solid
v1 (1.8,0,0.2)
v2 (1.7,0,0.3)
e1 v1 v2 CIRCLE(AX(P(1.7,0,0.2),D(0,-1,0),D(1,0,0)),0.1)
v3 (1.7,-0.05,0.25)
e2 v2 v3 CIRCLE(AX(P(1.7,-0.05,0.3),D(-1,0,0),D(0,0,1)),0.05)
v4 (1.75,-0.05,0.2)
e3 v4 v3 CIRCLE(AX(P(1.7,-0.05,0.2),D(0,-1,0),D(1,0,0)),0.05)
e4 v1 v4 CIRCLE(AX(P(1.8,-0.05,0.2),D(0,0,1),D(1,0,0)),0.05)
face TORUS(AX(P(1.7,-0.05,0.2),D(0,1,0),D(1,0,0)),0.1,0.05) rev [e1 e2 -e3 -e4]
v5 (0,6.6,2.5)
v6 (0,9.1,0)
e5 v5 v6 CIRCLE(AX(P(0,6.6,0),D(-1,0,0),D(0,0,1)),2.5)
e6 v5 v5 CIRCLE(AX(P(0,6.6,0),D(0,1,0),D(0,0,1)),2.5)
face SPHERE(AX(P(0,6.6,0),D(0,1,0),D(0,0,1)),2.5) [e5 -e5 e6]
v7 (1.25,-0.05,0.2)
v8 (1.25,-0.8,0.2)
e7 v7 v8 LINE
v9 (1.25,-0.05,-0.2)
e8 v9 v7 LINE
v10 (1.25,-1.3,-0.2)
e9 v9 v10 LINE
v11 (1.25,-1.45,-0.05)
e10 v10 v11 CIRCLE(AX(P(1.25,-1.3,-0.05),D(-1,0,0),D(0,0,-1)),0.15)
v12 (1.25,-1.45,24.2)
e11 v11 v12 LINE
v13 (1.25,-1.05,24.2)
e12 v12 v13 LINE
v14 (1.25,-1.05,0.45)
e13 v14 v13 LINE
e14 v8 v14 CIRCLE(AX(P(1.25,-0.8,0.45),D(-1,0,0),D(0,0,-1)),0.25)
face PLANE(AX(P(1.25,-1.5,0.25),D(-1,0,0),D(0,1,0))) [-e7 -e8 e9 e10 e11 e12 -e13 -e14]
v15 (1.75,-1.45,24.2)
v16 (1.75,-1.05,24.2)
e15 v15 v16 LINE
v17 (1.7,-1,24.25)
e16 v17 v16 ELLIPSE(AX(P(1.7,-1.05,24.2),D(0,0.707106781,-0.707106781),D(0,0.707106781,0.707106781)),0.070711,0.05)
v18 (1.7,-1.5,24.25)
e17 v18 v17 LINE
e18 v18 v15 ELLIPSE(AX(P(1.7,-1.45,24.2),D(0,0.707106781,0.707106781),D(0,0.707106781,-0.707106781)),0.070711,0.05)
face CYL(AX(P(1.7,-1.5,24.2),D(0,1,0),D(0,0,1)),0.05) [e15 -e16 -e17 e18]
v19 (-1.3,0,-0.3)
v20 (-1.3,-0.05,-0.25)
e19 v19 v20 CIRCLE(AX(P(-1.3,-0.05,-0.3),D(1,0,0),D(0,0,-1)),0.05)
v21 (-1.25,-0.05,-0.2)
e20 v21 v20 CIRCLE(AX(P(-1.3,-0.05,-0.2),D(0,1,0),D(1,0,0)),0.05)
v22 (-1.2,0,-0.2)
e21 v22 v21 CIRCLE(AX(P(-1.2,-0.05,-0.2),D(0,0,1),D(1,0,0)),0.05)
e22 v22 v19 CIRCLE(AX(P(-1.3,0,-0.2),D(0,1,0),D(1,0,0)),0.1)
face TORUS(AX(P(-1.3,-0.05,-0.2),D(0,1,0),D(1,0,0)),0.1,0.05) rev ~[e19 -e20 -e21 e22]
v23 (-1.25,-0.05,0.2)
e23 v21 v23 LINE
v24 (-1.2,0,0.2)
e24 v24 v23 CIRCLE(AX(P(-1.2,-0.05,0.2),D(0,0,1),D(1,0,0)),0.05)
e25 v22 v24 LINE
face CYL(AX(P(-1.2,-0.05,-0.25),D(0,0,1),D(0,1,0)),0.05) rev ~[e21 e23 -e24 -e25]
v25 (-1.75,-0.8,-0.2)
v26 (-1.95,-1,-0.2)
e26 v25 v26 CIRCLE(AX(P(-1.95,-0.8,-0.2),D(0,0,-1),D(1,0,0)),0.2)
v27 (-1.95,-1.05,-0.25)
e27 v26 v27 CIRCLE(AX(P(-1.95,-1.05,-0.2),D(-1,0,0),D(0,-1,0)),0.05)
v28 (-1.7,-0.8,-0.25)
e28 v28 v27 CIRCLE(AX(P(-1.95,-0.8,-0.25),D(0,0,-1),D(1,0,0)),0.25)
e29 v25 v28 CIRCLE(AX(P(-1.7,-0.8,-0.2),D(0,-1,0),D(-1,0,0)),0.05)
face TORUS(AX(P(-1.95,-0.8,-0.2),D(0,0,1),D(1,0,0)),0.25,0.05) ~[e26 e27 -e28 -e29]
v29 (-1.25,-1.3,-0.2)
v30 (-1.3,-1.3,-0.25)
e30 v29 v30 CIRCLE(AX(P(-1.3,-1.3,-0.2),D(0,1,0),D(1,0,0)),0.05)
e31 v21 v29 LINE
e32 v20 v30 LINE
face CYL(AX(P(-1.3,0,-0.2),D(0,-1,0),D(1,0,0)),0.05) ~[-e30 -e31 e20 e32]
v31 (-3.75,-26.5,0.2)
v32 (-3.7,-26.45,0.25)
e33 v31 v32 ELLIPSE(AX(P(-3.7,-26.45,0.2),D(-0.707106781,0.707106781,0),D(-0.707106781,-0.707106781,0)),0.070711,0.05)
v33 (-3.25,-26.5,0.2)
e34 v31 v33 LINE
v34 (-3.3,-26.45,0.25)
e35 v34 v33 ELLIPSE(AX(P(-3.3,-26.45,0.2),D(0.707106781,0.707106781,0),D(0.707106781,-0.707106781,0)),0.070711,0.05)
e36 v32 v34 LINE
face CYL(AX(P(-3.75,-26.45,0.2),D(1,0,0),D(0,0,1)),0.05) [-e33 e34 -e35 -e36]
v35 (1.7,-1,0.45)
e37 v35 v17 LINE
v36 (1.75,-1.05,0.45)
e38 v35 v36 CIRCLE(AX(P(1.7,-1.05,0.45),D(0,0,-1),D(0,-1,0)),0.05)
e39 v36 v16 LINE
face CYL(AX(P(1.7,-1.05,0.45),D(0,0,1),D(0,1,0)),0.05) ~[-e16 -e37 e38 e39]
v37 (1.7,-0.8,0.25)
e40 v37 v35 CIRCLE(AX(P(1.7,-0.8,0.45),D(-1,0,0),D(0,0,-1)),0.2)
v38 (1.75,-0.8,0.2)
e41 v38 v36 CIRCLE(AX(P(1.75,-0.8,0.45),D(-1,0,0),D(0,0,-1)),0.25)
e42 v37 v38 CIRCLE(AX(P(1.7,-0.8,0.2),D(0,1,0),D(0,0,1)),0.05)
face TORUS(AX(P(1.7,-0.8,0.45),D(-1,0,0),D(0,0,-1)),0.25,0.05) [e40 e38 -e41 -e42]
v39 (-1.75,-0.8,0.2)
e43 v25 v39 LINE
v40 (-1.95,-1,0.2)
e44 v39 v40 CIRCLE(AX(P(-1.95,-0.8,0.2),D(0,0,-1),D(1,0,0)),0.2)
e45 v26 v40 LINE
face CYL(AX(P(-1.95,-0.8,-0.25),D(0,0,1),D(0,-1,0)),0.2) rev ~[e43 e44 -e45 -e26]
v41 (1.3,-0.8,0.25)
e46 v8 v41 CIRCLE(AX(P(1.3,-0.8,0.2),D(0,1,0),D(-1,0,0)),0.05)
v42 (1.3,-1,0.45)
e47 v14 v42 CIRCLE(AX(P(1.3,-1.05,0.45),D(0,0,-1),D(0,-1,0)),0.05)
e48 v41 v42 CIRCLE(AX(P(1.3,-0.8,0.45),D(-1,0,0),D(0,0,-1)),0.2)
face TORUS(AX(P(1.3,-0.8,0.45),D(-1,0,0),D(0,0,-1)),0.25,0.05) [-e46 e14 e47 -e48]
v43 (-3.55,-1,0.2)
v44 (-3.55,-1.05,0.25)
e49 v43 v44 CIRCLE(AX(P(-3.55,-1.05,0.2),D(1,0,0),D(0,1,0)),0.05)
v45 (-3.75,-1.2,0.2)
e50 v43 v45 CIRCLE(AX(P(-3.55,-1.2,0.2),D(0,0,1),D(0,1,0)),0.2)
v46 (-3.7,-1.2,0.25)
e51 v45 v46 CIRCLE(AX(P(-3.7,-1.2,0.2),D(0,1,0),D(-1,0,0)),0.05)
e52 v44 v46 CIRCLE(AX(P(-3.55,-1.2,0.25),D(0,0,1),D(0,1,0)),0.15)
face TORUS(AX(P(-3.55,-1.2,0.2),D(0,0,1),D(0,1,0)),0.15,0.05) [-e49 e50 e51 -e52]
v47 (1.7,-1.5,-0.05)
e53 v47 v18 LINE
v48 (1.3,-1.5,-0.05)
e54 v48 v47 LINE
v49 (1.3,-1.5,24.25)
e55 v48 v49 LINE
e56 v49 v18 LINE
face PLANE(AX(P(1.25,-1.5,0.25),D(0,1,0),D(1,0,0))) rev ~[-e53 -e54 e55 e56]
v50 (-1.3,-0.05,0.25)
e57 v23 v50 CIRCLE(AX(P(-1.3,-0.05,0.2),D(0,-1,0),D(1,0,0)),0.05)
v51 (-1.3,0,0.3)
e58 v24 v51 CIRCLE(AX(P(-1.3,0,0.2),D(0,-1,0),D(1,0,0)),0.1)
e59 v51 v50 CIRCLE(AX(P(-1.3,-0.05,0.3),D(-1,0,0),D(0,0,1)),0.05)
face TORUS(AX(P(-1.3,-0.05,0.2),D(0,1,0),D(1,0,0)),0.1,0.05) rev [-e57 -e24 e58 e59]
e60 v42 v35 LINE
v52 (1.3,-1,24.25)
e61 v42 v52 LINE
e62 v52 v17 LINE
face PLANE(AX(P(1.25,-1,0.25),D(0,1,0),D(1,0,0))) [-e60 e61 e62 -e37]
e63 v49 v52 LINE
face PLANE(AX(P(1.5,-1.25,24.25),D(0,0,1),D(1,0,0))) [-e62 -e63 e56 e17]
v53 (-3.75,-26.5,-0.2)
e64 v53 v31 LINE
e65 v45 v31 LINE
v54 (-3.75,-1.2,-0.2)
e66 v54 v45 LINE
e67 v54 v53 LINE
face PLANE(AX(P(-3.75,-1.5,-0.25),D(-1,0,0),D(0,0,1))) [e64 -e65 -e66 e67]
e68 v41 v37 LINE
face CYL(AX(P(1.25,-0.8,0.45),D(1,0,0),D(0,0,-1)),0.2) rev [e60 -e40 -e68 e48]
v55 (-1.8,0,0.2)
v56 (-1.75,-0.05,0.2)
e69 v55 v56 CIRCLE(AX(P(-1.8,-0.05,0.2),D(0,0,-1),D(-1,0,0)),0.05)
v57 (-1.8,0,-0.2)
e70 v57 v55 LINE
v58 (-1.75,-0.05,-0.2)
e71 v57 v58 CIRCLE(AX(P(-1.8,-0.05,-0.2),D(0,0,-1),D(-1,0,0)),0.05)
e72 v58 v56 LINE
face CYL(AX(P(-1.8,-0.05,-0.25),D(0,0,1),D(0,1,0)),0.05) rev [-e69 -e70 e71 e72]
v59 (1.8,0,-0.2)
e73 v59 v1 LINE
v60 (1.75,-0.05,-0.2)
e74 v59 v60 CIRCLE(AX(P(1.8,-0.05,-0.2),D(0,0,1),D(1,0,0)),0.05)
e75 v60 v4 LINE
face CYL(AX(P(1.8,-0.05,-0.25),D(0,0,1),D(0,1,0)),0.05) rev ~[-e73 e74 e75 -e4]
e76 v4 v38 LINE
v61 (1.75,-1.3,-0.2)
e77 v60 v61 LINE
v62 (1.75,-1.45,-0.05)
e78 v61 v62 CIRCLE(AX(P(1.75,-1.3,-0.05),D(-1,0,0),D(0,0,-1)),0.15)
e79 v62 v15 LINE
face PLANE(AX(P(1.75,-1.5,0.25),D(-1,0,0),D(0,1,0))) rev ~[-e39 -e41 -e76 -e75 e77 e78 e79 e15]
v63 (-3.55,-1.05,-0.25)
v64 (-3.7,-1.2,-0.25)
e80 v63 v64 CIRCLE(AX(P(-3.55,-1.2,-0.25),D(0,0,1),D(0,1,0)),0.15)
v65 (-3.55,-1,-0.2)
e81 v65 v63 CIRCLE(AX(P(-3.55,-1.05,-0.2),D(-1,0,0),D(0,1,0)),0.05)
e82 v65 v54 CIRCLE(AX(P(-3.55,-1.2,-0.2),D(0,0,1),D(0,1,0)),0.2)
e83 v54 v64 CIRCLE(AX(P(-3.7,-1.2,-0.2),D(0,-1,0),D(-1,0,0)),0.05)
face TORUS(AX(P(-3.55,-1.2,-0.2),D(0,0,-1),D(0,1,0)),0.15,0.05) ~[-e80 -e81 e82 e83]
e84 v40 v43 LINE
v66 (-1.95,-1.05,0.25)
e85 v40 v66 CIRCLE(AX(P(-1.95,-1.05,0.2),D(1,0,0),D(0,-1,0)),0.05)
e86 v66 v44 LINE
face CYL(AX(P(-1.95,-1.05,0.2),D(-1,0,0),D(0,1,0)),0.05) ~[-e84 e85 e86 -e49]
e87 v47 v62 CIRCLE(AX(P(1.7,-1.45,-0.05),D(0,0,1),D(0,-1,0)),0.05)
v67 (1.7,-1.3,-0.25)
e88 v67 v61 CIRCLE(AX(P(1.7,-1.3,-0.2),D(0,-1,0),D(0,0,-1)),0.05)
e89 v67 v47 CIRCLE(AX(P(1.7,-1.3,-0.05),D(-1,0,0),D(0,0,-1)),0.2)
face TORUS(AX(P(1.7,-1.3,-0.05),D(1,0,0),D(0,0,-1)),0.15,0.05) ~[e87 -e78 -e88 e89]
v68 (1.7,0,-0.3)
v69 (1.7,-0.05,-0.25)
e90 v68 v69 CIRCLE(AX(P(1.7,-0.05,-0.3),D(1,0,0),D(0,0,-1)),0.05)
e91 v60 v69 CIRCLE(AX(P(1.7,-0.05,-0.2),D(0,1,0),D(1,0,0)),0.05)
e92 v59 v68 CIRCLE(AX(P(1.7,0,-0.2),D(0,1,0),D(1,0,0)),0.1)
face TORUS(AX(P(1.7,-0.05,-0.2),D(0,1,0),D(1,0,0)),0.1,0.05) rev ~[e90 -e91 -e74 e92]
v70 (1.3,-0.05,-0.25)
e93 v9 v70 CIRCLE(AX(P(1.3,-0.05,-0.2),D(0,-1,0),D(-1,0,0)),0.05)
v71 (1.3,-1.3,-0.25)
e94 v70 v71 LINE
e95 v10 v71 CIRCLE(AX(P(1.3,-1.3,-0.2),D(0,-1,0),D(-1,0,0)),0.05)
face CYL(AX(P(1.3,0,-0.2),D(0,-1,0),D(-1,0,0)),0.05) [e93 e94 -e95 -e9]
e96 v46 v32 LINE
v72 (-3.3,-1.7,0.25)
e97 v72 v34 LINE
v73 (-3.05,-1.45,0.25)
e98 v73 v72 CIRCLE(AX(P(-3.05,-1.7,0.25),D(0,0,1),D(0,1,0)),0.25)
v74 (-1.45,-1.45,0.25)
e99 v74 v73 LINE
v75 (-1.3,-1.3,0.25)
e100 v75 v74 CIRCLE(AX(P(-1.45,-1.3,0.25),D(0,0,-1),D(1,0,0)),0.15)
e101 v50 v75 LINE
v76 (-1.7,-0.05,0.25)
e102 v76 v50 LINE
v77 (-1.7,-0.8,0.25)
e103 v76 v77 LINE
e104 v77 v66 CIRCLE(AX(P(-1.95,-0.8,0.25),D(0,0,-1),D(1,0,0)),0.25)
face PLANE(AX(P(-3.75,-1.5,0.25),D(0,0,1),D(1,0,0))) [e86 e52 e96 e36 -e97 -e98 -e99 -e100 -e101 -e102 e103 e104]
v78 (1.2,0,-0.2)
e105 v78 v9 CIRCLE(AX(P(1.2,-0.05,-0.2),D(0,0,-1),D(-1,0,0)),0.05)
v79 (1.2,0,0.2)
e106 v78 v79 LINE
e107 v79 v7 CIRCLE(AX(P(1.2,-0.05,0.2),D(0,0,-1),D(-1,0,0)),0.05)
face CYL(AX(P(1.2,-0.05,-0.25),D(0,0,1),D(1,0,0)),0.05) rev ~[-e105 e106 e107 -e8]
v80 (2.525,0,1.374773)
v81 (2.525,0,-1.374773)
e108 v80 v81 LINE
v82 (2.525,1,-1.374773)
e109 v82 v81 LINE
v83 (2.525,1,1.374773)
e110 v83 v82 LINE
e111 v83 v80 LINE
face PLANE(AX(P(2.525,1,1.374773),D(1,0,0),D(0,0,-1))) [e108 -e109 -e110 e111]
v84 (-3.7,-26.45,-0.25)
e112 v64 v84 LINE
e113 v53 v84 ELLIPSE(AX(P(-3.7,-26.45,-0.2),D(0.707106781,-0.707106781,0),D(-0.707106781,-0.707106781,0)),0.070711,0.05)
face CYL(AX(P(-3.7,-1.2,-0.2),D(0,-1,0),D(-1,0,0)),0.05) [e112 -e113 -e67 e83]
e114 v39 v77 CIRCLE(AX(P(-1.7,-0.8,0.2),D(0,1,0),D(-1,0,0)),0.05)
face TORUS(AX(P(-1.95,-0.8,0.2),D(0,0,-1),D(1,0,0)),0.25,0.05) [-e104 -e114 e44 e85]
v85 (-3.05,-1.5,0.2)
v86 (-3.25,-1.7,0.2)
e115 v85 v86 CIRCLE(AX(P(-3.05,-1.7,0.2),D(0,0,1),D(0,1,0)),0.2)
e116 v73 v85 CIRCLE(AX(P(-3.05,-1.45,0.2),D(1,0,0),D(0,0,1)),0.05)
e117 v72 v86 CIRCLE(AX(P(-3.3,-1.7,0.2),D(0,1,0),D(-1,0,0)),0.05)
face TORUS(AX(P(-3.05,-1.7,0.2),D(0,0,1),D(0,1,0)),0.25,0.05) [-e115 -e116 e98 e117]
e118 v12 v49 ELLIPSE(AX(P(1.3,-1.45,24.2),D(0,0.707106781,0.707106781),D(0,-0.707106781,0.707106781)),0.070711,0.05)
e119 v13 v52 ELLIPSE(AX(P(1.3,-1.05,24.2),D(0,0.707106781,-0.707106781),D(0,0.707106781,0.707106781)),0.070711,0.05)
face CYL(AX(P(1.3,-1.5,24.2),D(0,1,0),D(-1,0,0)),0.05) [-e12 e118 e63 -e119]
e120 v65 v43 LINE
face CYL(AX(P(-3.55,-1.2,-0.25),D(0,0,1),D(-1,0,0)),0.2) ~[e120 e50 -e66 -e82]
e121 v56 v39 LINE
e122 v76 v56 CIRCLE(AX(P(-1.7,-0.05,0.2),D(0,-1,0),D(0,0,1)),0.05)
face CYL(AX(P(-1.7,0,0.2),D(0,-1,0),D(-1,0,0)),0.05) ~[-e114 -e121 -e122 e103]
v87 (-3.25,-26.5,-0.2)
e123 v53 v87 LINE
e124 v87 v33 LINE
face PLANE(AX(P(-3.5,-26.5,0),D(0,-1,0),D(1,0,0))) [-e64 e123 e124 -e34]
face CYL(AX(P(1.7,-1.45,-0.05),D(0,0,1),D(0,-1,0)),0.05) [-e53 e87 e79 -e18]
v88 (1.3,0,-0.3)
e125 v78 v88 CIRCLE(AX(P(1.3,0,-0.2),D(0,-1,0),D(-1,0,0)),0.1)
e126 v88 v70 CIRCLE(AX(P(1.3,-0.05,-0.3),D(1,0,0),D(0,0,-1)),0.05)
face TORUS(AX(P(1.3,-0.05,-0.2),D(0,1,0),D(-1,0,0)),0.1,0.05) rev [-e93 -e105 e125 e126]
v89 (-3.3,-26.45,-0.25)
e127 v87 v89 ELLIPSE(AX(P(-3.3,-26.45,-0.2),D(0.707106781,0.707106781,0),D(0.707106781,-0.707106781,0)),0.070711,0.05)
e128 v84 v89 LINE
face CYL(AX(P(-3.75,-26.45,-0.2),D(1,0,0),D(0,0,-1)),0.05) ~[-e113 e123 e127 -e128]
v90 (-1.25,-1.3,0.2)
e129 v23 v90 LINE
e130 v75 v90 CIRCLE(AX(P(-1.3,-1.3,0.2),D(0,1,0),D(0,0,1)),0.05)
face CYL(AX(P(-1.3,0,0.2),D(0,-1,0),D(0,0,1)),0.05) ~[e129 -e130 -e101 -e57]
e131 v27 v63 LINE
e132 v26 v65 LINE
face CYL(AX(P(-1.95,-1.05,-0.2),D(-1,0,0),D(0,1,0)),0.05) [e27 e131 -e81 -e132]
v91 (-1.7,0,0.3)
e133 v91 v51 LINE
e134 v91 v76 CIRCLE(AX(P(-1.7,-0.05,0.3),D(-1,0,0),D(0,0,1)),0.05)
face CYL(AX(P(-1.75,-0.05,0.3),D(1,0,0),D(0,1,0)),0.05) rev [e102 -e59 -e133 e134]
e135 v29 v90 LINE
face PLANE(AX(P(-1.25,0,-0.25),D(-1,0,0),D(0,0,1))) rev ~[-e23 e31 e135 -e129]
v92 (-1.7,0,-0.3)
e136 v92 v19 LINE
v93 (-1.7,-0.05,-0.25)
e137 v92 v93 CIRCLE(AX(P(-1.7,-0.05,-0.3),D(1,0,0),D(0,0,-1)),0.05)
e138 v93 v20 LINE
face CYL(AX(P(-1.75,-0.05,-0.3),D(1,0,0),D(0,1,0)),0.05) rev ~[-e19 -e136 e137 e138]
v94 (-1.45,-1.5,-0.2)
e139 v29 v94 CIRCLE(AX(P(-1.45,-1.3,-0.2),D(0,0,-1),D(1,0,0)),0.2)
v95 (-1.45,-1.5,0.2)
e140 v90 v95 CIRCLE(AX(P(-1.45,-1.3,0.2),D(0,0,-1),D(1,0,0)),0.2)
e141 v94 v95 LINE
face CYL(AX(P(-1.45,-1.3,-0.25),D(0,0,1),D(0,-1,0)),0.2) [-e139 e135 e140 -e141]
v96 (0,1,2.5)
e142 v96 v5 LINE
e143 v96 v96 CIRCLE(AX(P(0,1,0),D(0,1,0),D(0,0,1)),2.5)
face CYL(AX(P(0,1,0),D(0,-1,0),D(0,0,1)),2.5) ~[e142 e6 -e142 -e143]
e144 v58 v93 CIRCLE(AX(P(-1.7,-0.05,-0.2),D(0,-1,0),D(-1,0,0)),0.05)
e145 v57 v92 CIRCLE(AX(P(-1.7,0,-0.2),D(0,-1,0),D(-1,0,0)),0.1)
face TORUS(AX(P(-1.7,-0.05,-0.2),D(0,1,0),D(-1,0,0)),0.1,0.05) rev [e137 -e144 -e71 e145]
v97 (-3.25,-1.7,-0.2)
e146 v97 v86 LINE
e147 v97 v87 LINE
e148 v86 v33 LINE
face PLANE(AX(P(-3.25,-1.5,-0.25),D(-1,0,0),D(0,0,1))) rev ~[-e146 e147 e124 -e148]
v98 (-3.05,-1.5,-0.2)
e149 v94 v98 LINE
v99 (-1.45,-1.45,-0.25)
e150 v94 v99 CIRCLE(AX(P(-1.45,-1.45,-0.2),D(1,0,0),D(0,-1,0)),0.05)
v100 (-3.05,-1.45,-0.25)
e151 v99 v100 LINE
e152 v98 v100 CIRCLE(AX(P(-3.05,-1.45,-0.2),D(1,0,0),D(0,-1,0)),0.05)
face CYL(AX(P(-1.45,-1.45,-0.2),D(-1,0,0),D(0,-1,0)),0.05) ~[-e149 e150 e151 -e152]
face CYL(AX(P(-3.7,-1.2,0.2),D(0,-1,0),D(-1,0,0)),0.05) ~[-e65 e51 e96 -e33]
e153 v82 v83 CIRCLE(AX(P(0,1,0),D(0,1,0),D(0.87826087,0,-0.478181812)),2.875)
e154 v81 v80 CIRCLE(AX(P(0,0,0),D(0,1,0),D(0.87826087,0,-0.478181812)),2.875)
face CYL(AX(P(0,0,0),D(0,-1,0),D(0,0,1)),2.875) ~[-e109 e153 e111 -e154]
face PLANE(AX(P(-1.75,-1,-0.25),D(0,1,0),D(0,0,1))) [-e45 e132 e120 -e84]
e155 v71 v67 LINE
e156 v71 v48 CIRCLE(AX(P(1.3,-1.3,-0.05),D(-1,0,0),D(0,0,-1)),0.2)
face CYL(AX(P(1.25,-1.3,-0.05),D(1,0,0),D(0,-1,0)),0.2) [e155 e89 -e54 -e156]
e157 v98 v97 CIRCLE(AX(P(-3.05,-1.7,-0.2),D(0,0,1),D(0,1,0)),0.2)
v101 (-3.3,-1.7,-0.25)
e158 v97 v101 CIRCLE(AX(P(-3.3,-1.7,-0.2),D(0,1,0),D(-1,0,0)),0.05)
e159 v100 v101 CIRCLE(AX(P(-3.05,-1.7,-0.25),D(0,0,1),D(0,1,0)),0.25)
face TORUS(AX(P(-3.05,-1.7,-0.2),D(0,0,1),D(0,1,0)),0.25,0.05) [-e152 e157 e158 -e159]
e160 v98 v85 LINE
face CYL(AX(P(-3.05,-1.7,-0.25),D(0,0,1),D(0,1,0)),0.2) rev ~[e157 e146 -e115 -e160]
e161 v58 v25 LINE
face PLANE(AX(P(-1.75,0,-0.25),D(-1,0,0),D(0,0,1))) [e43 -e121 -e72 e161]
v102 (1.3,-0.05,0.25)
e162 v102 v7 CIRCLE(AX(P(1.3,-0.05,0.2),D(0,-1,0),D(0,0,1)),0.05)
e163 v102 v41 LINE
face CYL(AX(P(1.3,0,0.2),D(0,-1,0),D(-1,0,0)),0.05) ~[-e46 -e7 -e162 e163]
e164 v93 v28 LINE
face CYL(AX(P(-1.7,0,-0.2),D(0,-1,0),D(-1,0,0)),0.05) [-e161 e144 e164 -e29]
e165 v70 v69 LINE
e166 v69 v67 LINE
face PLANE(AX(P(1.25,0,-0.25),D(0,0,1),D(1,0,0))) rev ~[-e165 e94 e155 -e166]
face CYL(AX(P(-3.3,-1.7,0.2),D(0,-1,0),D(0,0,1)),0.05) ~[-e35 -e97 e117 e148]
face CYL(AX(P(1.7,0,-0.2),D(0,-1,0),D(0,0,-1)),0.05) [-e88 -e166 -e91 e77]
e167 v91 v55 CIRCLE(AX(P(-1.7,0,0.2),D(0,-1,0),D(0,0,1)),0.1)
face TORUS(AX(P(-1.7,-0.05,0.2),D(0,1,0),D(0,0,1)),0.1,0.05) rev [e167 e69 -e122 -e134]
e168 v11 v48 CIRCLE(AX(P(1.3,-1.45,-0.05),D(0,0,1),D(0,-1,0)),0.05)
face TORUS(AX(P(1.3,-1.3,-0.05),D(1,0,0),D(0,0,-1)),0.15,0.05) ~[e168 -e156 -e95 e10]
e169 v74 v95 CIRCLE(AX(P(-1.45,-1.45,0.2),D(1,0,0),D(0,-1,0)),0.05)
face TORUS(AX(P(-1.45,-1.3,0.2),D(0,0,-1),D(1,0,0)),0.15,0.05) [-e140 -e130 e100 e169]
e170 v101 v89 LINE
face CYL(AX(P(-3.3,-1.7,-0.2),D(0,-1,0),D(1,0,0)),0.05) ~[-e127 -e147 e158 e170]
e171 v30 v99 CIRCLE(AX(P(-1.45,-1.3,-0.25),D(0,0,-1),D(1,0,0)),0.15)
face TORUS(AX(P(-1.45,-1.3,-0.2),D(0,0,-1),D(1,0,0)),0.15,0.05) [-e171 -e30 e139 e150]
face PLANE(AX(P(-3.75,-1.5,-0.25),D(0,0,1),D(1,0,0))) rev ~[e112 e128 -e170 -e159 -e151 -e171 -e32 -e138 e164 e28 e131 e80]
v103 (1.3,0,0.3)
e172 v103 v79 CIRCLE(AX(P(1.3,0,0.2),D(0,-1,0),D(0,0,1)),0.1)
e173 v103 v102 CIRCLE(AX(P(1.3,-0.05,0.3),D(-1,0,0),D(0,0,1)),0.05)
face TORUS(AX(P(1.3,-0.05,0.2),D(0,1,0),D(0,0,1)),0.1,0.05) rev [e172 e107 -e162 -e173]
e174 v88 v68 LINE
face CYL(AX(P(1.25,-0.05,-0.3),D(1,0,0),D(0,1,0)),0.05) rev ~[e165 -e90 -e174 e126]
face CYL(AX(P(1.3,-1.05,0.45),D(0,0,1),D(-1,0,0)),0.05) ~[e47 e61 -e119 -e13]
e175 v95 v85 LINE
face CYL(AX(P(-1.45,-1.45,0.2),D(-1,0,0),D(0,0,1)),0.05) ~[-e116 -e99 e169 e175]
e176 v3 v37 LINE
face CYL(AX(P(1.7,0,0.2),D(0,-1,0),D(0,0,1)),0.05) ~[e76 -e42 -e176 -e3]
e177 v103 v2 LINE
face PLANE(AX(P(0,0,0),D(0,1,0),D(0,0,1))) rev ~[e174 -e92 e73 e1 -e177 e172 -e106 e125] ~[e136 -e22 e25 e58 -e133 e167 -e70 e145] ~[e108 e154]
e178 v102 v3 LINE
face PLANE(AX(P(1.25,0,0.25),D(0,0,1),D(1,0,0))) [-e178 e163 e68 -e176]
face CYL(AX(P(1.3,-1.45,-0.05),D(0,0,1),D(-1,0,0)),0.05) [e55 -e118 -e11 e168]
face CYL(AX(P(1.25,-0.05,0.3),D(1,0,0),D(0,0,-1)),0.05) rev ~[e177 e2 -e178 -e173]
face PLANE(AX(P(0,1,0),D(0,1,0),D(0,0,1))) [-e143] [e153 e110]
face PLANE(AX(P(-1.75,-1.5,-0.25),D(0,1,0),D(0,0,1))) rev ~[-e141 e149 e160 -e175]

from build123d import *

# Parameters (mm, degrees)
SKETCH1_R           = 2.875
BOSS_EXTRUDE1_DEPTH = 1
SKETCH2_R           = 2.5
BOSS_EXTRUDE2_DEPTH = 5.6
DOME1_FACE_RADIUS   = 2.5
DOME1_HEIGHT        = 2.5
SKETCH3_W           = 1.040189981
SKETCH3_H           = 2.749545416
CUT_EXTRUDE1_DEPTH  = 5.6
SKETCH4_W           = 0.5
SKETCH4_H           = 0.5
BOSS_EXTRUDE3_DEPTH = 1.5
SKETCH5_W           = 0.5
SKETCH5_H           = 0.5
BOSS_EXTRUDE4_DEPTH = 2
SKETCH6_W           = 0.5
SKETCH6_H           = 0.5
BOSS_EXTRUDE5_DEPTH = 25
SKETCH7_W           = 0.5
SKETCH7_H           = 0.5
BOSS_EXTRUDE6_DEPTH = 24
FILLET1_R           = 0.2
FILLET2_R           = 0.05


with BuildPart() as part:
    # Sketch1 → Boss-Extrude1 (new body)
    with BuildSketch(Plane(origin=(0, 0, 0), x_dir=(1, 0, 0), z_dir=(0, 1, 0))):
        with Locations(Location((0, 0, 0), (0, 0, 270))):
            Circle(SKETCH1_R)
    extrude(amount=BOSS_EXTRUDE1_DEPTH)

    # Sketch2 → Boss-Extrude2 (add)
    with BuildSketch(Plane(origin=(0, 1, 0), x_dir=(1, 0, 0), z_dir=(0, 1, 0))):
        with Locations(Location((0, 0, 0), (0, 0, 270))):
            Circle(SKETCH2_R)
    extrude(amount=BOSS_EXTRUDE2_DEPTH)

    # Dome1: a dome of height H over a round flat face of radius A is a cap of a sphere of radius (A * A + H * H) / (2 * H)
    dome1_r = (DOME1_FACE_RADIUS * DOME1_FACE_RADIUS + DOME1_HEIGHT * DOME1_HEIGHT) / (2 * DOME1_HEIGHT)
    dome1_base = Plane((0, 6.6, 0), z_dir=(0, 1, 0))
    with Locations(dome1_base.offset(DOME1_HEIGHT - dome1_r)):
        dome1_ball = Sphere(dome1_r, mode=Mode.PRIVATE)
    add(split(dome1_ball, bisect_by=dome1_base, keep=Keep.TOP, mode=Mode.PRIVATE))

    # Sketch3 → Cut-Extrude1 (cut)
    with BuildSketch(Plane(origin=(0, 1, 0), x_dir=(1, 0, 0), z_dir=(0, 1, 0))):
        with Locations((3.04509499, 0)):
            Rectangle(SKETCH3_W, SKETCH3_H)
    extrude(amount=-CUT_EXTRUDE1_DEPTH, mode=Mode.SUBTRACT)

    # Sketch4 → Boss-Extrude3 (add)
    with BuildSketch(Plane.XZ):
        with Locations((1.5, 0)):
            Rectangle(SKETCH4_W, SKETCH4_H)
        with Locations((-1.5, 0)):
            Rectangle(SKETCH4_W, SKETCH4_H)
    extrude(amount=BOSS_EXTRUDE3_DEPTH)

    # Sketch5 → Boss-Extrude4 (add)
    with BuildSketch(Plane.ZY.offset(1.75)):
        with Locations((0, -1.25)):
            Rectangle(SKETCH5_W, SKETCH5_H)
    extrude(amount=BOSS_EXTRUDE4_DEPTH)

    # Sketch6 → Boss-Extrude5 (add)
    with BuildSketch(Plane.XZ.offset(1.5)):
        with Locations((-3.5, 0)):
            Rectangle(SKETCH6_W, SKETCH6_H)
    extrude(amount=BOSS_EXTRUDE5_DEPTH)

    # Sketch7 → Boss-Extrude6 (add)
    with BuildSketch(Plane.XY.offset(0.25)):
        with Locations((1.5, -1.25)):
            Rectangle(SKETCH7_W, SKETCH7_H)
    extrude(amount=BOSS_EXTRUDE6_DEPTH)

    # Fillet1
    fillet1_edges = [part.edges().sort_by_distance(p)[0] for p in [
        (-3.25, -1.5, 0),
        (-1.75, -1, 0),
        (-3.75, -1, 0),
        (-1.25, -1.5, 0),
        (1.5, -1.5, -0.25),
        (1.5, -1, 0.25),
    ]]
    fillet(fillet1_edges, radius=FILLET1_R)

    # Fillet2
    fillet2_edges = [part.edges().sort_by_distance(p)[0] for p in [
        (-1.75, -0.4, 0.25),
        (-1.75, -0.4, -0.25),
        (-3.75, -13.85, -0.25),
        (-1.25, -0.65, -0.25),
        (-1.308578644, -1.441421356, -0.25),
        (-3.691421356, -1.058578644, -0.25),
        (-1.25, -0.65, 0.25),
        (-1.308578644, -1.441421356, 0.25),
        (-3.691421356, -1.058578644, 0.25),
        (1.25, -0.941421356, 0.308578644),
        (1.75, -0.941421356, 0.308578644),
        (-3.191421356, -1.558578644, 0.25),
        (-3.191421356, -1.558578644, -0.25),
        (-1.808578644, -0.941421356, -0.25),
        (-1.808578644, -0.941421356, 0.25),
        (1.75, 0, 0),
        (1.5, 0, 0.25),
        (1.25, 0, 0),
        (1.5, 0, -0.25),
        (1.25, -1.5, 12.1),
        (-1.25, 0, 0),
        (-1.5, 0, 0.25),
        (-1.75, 0, 0),
        (-1.5, 0, -0.25),
        (-3.75, -13.85, 0.25),
        (-3.25, -14.1, -0.25),
        (-3.25, -14.1, 0.25),
        (-3.5, -26.5, -0.25),
        (-3.5, -26.5, 0.25),
        (1.25, -1, 12.35),
        (1.75, -1, 12.35),
        (1.25, -1.25, 24.25),
        (1.75, -1.25, 24.25),
        (1.75, -1.5, 12.1),
        (1.75, -0.4, 0.25),
        (1.75, -0.65, -0.25),
        (1.75, -1.441421356, -0.191421356),
        (1.25, -0.65, -0.25),
        (1.25, -0.4, 0.25),
        (1.25, -1.441421356, -0.191421356),
        (-2.25, -1.5, -0.25),
        (-2.25, -1.5, 0.25),
        (-2.75, -1, -0.25),
        (-2.75, -1, 0.25),
    ]]
    fillet(fillet2_edges, radius=FILLET2_R)


solid = part.part
